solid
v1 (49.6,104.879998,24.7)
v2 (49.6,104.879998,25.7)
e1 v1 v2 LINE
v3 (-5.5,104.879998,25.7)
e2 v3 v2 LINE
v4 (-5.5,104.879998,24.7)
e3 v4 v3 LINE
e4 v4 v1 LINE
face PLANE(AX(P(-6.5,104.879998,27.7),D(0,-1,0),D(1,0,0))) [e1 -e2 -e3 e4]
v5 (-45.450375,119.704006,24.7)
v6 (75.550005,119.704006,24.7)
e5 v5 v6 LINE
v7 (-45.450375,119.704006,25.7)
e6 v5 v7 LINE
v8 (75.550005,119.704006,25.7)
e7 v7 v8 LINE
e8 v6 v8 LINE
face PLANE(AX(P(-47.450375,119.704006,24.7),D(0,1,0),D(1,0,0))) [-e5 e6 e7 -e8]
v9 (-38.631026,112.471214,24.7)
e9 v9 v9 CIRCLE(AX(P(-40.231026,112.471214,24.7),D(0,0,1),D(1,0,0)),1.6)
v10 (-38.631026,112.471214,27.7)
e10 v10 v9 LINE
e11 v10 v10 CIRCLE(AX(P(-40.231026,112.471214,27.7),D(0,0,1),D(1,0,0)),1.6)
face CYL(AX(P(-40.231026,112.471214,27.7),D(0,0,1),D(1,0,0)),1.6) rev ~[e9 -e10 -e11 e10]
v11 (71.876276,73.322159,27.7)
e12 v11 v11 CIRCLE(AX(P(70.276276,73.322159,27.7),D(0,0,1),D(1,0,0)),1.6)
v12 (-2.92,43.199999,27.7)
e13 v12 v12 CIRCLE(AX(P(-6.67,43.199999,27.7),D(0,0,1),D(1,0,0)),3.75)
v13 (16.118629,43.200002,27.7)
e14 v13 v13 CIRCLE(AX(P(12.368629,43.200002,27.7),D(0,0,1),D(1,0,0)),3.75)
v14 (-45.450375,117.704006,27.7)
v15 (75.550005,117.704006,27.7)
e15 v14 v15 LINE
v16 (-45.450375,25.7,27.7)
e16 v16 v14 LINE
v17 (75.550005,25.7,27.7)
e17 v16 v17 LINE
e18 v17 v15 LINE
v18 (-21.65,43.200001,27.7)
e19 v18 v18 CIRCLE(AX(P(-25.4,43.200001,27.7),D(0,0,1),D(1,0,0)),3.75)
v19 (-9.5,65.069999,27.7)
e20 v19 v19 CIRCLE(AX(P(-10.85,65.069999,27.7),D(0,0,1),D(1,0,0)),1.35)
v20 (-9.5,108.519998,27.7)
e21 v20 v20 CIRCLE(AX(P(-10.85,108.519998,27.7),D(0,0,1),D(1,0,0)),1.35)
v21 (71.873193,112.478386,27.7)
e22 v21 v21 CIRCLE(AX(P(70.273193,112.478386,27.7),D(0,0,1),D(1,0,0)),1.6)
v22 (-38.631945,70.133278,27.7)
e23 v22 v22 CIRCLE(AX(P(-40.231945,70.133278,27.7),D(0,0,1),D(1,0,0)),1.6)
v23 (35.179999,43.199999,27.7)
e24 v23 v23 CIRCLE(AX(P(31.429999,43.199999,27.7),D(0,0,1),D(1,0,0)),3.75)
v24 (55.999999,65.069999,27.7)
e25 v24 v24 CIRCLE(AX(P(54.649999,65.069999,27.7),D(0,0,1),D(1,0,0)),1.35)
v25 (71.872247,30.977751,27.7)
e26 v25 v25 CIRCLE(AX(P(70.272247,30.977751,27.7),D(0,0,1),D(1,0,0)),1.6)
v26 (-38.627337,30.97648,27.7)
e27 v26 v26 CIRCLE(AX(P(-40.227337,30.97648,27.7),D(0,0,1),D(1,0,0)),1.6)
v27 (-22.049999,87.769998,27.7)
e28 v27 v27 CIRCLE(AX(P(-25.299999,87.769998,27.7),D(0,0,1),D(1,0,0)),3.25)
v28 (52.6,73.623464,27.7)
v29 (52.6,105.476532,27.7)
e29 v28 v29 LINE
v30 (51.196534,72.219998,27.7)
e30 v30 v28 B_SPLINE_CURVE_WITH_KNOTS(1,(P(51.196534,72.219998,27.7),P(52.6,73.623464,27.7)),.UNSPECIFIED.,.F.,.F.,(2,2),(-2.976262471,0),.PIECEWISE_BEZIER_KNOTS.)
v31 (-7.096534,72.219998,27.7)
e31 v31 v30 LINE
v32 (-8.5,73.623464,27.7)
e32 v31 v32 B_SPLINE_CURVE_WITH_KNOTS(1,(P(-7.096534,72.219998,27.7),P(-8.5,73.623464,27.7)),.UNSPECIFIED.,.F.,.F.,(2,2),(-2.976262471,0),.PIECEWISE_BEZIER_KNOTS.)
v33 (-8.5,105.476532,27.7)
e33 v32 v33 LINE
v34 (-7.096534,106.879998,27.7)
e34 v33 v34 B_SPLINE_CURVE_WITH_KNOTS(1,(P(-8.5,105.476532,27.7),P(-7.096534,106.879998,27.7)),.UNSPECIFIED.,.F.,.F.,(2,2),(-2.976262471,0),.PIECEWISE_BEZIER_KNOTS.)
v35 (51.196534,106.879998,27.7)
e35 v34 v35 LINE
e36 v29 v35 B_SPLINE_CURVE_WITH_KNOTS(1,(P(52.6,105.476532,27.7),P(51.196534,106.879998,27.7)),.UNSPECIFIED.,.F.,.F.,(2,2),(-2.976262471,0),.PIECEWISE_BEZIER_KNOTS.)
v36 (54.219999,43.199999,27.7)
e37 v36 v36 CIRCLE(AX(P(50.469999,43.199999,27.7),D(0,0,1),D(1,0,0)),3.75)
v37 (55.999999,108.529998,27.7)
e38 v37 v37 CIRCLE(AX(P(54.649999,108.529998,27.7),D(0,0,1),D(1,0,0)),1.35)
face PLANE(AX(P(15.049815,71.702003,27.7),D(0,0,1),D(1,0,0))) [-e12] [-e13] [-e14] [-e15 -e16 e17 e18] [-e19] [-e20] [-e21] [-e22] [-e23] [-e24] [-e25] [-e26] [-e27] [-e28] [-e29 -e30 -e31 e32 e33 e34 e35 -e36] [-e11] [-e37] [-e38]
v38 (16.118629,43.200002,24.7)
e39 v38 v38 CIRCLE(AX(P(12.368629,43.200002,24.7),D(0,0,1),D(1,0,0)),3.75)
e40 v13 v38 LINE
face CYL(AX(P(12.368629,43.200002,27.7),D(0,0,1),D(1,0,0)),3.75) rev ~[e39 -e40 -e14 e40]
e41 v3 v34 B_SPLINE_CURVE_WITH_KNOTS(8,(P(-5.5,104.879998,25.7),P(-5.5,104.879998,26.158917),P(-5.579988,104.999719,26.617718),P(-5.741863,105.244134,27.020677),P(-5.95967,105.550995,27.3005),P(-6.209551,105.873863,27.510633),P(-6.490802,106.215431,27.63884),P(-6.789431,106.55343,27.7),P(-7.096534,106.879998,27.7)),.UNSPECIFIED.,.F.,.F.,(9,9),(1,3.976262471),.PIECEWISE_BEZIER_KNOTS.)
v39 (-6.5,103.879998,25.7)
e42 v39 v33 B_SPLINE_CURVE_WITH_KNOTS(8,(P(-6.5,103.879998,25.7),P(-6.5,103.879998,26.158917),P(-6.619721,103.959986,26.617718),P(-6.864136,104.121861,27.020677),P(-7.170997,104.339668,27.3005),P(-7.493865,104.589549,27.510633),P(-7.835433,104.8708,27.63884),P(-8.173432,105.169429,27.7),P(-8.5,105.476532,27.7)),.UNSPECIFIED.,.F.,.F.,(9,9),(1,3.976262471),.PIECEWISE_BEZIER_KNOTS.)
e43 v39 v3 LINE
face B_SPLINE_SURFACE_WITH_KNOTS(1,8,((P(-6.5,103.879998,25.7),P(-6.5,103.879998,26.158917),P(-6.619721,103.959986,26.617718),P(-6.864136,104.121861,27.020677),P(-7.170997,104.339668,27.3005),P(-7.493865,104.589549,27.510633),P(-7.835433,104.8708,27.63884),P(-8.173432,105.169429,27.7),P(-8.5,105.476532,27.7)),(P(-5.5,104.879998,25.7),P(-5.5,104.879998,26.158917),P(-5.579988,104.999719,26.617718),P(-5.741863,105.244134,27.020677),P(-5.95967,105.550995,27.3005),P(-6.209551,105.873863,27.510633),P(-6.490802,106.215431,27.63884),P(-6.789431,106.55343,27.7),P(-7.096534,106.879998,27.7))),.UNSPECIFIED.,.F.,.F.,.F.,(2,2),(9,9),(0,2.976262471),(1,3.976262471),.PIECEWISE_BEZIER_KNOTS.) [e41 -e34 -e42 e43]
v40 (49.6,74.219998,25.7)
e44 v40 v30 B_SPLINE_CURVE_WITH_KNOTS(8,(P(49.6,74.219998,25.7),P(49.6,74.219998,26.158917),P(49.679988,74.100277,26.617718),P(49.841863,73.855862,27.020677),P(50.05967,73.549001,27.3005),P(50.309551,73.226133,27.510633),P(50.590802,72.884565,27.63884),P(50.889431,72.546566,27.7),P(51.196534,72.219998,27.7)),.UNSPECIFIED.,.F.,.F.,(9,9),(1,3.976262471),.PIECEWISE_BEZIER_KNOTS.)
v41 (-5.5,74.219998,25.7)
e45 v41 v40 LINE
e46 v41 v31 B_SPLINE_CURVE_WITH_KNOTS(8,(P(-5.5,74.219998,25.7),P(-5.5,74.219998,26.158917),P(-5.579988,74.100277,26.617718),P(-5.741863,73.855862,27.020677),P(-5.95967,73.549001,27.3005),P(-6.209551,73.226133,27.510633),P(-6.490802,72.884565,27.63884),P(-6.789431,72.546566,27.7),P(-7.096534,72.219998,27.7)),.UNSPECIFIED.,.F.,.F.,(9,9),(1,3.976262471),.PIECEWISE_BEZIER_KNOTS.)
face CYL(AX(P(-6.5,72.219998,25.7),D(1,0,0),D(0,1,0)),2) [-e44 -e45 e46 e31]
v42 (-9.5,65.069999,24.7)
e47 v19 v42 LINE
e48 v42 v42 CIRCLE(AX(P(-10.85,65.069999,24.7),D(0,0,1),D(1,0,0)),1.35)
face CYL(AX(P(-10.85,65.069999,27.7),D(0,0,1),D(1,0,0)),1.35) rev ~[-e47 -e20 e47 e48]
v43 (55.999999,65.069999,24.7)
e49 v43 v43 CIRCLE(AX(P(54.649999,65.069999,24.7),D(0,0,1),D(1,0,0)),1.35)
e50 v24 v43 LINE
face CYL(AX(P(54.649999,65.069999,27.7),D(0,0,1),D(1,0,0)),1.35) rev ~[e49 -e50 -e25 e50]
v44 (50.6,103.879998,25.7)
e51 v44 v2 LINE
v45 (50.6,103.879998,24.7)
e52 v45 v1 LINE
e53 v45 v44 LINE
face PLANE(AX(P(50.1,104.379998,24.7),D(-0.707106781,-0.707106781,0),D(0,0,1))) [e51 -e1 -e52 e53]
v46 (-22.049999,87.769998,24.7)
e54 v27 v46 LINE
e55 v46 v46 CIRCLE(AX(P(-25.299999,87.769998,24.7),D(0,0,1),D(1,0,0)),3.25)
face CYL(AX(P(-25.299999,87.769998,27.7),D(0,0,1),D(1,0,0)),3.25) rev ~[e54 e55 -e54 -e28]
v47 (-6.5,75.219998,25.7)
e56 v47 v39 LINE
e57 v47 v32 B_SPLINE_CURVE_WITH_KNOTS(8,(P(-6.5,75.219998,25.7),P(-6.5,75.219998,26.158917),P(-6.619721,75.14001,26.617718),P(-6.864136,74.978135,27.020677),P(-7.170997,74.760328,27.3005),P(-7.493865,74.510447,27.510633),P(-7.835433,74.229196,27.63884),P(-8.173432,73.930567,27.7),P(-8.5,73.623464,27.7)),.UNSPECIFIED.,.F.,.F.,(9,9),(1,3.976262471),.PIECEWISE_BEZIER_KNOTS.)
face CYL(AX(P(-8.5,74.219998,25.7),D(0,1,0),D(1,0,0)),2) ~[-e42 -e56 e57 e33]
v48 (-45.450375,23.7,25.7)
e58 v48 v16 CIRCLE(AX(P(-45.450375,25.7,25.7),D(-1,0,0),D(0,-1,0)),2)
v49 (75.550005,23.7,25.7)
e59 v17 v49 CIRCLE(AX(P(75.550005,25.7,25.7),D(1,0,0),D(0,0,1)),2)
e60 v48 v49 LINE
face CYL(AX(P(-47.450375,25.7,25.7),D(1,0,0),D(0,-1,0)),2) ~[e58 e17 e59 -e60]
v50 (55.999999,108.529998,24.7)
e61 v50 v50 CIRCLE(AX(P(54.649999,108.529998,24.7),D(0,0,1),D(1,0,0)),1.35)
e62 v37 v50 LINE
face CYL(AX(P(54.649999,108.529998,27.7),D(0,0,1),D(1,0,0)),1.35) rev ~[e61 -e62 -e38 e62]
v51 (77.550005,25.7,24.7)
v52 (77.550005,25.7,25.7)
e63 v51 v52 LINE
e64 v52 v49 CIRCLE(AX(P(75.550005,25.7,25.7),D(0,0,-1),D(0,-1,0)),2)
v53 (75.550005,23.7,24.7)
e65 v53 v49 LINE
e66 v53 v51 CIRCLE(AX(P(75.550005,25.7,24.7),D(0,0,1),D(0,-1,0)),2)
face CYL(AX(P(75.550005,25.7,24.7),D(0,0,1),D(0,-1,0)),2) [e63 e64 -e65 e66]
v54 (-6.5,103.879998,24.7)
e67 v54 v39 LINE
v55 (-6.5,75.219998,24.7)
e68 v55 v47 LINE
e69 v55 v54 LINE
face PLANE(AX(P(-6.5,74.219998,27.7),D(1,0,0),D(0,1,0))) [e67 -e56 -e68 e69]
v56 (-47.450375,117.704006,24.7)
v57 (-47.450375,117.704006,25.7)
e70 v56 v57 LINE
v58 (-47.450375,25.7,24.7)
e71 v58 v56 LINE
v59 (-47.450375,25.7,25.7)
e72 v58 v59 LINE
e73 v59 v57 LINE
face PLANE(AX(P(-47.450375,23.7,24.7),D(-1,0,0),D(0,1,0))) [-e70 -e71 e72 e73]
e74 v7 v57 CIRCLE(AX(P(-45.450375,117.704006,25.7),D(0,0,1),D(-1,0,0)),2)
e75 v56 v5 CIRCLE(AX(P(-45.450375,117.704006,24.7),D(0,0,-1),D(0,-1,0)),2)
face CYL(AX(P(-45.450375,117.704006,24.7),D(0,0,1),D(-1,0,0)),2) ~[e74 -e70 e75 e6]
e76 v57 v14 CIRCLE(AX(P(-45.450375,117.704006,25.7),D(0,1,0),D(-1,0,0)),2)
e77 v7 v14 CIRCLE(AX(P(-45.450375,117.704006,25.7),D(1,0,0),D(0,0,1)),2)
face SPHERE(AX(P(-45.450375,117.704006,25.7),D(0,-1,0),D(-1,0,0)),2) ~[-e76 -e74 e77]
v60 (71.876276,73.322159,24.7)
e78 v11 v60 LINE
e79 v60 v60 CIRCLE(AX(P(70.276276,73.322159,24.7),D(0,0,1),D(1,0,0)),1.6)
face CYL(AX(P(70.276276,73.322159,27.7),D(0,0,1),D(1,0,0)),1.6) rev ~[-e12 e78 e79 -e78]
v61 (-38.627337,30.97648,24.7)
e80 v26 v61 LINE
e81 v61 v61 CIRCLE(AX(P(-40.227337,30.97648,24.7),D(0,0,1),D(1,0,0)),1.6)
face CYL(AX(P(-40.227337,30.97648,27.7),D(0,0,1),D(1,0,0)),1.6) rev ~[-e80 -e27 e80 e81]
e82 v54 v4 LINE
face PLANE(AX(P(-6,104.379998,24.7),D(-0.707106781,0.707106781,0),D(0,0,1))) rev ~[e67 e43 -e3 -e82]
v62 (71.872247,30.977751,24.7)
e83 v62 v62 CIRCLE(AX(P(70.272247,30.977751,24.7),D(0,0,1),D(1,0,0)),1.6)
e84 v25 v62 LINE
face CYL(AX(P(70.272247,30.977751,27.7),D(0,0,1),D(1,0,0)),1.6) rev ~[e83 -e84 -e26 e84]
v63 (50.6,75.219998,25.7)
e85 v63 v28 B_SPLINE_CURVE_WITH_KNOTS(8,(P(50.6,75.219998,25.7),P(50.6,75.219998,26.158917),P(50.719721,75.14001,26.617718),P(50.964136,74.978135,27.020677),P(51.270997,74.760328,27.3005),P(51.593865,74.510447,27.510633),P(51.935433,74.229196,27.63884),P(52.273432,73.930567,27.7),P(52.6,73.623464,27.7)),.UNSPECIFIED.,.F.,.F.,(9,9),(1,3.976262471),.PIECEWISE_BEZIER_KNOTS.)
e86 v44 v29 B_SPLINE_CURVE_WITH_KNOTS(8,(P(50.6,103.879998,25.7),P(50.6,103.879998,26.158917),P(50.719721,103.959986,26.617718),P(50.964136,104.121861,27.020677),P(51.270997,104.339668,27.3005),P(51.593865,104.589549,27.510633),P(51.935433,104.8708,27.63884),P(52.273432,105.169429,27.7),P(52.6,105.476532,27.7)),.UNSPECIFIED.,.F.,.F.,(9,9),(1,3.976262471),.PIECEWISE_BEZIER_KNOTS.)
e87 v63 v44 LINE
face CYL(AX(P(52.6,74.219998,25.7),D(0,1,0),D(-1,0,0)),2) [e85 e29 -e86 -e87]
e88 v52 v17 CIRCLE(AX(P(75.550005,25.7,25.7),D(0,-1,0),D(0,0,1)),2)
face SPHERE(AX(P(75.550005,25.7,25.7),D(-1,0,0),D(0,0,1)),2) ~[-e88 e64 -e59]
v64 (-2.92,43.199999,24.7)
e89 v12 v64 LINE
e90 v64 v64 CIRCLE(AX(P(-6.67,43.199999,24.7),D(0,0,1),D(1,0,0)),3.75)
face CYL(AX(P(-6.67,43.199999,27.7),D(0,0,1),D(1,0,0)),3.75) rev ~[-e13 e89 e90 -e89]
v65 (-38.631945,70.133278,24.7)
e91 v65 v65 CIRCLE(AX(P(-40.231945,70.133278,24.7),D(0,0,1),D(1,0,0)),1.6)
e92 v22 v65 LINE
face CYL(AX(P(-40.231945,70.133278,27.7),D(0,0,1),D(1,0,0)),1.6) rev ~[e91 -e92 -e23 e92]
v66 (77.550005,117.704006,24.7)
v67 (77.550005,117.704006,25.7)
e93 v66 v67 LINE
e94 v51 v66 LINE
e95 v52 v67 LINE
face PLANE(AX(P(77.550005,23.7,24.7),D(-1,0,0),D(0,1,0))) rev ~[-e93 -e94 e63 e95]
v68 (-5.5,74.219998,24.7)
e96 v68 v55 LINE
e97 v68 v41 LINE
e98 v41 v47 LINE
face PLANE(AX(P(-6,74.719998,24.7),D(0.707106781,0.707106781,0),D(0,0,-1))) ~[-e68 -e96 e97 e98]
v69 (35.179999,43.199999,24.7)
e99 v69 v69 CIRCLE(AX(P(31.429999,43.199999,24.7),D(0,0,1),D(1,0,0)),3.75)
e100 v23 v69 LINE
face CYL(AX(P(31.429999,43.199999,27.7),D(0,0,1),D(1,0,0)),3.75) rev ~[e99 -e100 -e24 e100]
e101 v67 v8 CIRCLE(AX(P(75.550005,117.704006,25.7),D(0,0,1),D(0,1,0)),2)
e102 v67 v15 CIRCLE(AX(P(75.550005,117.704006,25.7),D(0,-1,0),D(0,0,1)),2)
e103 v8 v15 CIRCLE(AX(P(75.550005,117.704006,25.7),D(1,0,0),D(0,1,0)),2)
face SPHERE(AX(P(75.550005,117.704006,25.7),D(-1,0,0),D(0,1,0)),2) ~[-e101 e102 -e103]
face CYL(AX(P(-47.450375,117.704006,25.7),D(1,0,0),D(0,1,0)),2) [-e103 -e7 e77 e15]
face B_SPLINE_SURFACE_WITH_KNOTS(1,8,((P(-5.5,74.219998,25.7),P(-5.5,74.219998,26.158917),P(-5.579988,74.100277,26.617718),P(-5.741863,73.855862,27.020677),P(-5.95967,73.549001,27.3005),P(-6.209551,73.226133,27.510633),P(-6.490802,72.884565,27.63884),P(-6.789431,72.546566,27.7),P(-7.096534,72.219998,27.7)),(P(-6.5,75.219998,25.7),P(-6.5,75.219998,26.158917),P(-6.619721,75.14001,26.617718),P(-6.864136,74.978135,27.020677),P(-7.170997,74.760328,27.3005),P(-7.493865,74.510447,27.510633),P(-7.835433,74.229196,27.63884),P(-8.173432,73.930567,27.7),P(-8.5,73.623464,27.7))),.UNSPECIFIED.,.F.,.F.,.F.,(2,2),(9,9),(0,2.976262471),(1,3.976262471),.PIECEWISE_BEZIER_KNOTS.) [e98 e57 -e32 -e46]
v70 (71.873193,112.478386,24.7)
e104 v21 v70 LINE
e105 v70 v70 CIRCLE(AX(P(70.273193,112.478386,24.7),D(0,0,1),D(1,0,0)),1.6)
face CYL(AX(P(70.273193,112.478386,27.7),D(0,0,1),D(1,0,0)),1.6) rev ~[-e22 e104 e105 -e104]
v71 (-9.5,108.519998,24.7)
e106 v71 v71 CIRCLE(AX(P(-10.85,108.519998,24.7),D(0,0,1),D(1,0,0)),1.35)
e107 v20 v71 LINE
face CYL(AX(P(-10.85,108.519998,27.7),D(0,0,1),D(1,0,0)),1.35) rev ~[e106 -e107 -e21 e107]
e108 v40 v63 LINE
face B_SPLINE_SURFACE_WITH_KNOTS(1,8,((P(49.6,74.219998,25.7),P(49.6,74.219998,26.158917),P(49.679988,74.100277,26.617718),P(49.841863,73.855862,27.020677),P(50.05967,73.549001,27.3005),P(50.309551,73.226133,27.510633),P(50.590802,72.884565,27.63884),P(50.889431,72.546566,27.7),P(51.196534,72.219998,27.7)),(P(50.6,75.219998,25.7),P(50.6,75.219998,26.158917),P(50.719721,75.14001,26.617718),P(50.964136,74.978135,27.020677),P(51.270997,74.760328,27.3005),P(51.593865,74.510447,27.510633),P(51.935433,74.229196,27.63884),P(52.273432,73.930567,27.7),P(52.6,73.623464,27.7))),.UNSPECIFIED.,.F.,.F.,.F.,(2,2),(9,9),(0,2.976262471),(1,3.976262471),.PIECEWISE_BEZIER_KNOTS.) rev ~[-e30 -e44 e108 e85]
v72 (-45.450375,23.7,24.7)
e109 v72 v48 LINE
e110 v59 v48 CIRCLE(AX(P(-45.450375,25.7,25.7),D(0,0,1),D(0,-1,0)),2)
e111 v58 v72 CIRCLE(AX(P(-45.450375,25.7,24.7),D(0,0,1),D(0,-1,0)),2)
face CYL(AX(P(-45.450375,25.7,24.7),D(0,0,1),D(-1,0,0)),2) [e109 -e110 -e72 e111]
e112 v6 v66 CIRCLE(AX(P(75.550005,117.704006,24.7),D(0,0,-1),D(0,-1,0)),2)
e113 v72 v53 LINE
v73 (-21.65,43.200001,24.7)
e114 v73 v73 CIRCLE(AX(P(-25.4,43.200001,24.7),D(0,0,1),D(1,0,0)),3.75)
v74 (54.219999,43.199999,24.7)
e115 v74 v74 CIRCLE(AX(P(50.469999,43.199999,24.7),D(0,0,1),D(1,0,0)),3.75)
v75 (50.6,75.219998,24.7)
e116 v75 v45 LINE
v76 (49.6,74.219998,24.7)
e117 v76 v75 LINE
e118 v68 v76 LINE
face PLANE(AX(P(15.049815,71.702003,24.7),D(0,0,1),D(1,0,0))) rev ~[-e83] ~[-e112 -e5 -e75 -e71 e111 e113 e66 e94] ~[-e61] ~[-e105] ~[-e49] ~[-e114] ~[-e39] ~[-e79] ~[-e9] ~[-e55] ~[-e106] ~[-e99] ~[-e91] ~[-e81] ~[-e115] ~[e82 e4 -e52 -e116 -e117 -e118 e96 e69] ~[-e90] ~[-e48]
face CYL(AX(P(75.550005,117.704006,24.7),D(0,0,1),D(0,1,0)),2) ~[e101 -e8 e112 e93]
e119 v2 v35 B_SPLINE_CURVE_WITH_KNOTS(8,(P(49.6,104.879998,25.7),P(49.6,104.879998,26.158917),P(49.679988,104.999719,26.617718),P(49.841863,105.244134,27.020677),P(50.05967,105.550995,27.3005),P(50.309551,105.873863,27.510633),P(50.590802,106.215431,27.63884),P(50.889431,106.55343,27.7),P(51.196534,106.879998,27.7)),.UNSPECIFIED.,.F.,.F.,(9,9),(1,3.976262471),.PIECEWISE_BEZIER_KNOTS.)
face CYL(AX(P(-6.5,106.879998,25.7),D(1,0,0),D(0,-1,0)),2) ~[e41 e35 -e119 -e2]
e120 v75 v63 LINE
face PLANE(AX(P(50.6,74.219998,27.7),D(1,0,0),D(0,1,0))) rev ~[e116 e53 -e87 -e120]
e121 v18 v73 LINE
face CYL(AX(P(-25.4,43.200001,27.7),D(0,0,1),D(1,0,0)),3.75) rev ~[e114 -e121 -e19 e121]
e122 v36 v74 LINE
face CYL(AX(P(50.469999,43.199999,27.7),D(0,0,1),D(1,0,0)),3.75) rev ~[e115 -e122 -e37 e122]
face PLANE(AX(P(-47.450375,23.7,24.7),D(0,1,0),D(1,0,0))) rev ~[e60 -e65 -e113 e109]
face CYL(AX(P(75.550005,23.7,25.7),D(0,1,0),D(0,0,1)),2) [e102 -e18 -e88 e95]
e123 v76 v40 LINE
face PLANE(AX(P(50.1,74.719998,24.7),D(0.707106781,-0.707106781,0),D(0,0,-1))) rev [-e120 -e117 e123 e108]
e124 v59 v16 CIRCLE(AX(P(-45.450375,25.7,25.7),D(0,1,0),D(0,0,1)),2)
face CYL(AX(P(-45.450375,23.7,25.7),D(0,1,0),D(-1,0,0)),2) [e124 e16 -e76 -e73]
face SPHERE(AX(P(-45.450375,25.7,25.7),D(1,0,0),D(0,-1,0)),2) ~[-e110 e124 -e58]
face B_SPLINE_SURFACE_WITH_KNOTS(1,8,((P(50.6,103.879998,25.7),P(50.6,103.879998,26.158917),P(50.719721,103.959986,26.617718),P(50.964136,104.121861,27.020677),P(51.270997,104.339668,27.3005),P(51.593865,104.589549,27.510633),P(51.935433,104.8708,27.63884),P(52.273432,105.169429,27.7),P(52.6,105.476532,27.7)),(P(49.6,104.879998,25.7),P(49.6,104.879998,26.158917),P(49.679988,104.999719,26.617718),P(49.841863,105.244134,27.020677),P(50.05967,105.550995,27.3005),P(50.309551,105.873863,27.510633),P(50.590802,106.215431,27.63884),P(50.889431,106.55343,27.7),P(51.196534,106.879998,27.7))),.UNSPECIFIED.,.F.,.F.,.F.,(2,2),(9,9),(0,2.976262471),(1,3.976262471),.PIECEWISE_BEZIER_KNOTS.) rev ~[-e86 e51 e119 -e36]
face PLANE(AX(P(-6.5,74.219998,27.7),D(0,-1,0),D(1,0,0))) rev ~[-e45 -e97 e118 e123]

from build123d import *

# Parameters (mm, degrees)
SKETCH015_W      = 125.000379
SKETCH015_H      = 96.004006
EXTRUDE013_DEPTH = 3
SKETCH004_R      = 3.75
HOLE001_DEPTH    = 3
SKETCH005_R      = 3.25
HOLE002_DEPTH    = 3
SKETCH007_R      = 3.75
HOLE003_DEPTH    = 3
SKETCH006_R      = 1.35
HOLE004_DEPTH    = 3
SKETCH008_W      = 57.1
SKETCH008_H      = 30.66
POCKET_DEPTH     = 3
SKETCH021_R      = 1.6
HOLE007_DEPTH    = 3
HOLE007_TIPS_R   = 1.6
FILLET_R         = 2
FILLET001_R      = 2
CHAMFER_SIZE     = 1


with BuildPart() as part:
    # Sketch015 → Extrude013 (new body)
    with BuildSketch(Plane.XY):
        with Locations((15.049815, 71.702003)):
            Rectangle(SKETCH015_W, SKETCH015_H)
    extrude(amount=EXTRUDE013_DEPTH)

    # Sketch004 (on Face6 of Extrude013) → Hole001 (cut)
    with BuildSketch(Plane.XY.offset(3)):
        with Locations((-25.4, 43.200001)):
            Circle(SKETCH004_R)
    extrude(amount=-HOLE001_DEPTH, mode=Mode.SUBTRACT)

    # Sketch005 (on Face5 of Hole001) → Hole002 (cut)
    with BuildSketch(Plane.XY.offset(3)):
        with Locations((-25.299999, 87.769998)):
            Circle(SKETCH005_R)
    extrude(amount=-HOLE002_DEPTH, mode=Mode.SUBTRACT)

    # Sketch007 (on Face5 of Hole002) → Hole003 (cut)
    with BuildSketch(Plane.XY.offset(3)):
        with Locations((-6.67, 43.199999)):
            Circle(SKETCH007_R)
        with Locations((12.368629, 43.200002)):
            Circle(SKETCH007_R)
        with Locations((31.429999, 43.199999)):
            Circle(SKETCH007_R)
        with Locations((50.469999, 43.199999)):
            Circle(SKETCH007_R)
    extrude(amount=-HOLE003_DEPTH, mode=Mode.SUBTRACT)

    # Sketch006 (on Face5 of Hole003) → Hole004 (cut)
    with BuildSketch(Plane.XY.offset(3)):
        with Locations((-10.85, 65.069999)):
            Circle(SKETCH006_R)
        with Locations((54.649999, 65.069999)):
            Circle(SKETCH006_R)
        with Locations((54.649999, 108.529998)):
            Circle(SKETCH006_R)
        with Locations((-10.85, 108.519998)):
            Circle(SKETCH006_R)
    extrude(amount=-HOLE004_DEPTH, mode=Mode.SUBTRACT)

    # Sketch008 (on Face5 of Hole004) → Pocket (cut)
    with BuildSketch(Plane.XY.offset(3)):
        with Locations((22.05, 89.549998)):
            Rectangle(SKETCH008_W, SKETCH008_H)
    extrude(amount=-POCKET_DEPTH, mode=Mode.SUBTRACT)

    # Sketch021 (on Face5 of Pocket) → Hole007 (cut)
    with BuildSketch(Plane.XY.offset(3)):
        with Locations((-40.227337, 30.97648)):
            Circle(SKETCH021_R)
        with Locations((-40.231945, 70.133278)):
            Circle(SKETCH021_R)
        with Locations((-40.231026, 112.471214)):
            Circle(SKETCH021_R)
        with Locations((70.273193, 112.478386)):
            Circle(SKETCH021_R)
        with Locations((70.276276, 73.322159)):
            Circle(SKETCH021_R)
        with Locations((70.272247, 30.977751)):
            Circle(SKETCH021_R)
    extrude(amount=-HOLE007_DEPTH, mode=Mode.SUBTRACT)

    # Hole007 tips → Hole007 tip 1 section 0
    with BuildSketch(Plane.XY, mode=Mode.PRIVATE) as hole007_tip_1_s0:
        with Locations((-40.227337, 30.97648)):
            Circle(HOLE007_TIPS_R)
    loft([hole007_tip_1_s0.sketch, Vertex(-40.227337, 30.97648, -0.961377)], mode=Mode.SUBTRACT)

    # Hole007 tips → Hole007 tip 2 section 0
    with BuildSketch(Plane.XY, mode=Mode.PRIVATE) as hole007_tip_2_s0:
        with Locations((-40.231945, 70.133278)):
            Circle(HOLE007_TIPS_R)
    loft([hole007_tip_2_s0.sketch, Vertex(-40.231945, 70.133278, -0.961377)], mode=Mode.SUBTRACT)

    # Hole007 tips → Hole007 tip 3 section 0
    with BuildSketch(Plane.XY, mode=Mode.PRIVATE) as hole007_tip_3_s0:
        with Locations((-40.231026, 112.471214)):
            Circle(HOLE007_TIPS_R)
    loft([hole007_tip_3_s0.sketch, Vertex(-40.231026, 112.471214, -0.961377)], mode=Mode.SUBTRACT)

    # Hole007 tips → Hole007 tip 4 section 0
    with BuildSketch(Plane.XY, mode=Mode.PRIVATE) as hole007_tip_4_s0:
        with Locations((70.273193, 112.478386)):
            Circle(HOLE007_TIPS_R)
    loft([hole007_tip_4_s0.sketch, Vertex(70.273193, 112.478386, -0.961377)], mode=Mode.SUBTRACT)

    # Hole007 tips → Hole007 tip 5 section 0
    with BuildSketch(Plane.XY, mode=Mode.PRIVATE) as hole007_tip_5_s0:
        with Locations((70.276276, 73.322159)):
            Circle(HOLE007_TIPS_R)
    loft([hole007_tip_5_s0.sketch, Vertex(70.276276, 73.322159, -0.961377)], mode=Mode.SUBTRACT)

    # Hole007 tips → Hole007 tip 6 section 0
    with BuildSketch(Plane.XY, mode=Mode.PRIVATE) as hole007_tip_6_s0:
        with Locations((70.272247, 30.977751)):
            Circle(HOLE007_TIPS_R)
    loft([hole007_tip_6_s0.sketch, Vertex(70.272247, 30.977751, -0.961377)], mode=Mode.SUBTRACT)

    # Fillet
    fillet_edges = [part.edges().sort_by_distance(p)[0] for p in [
        (15.049814, 23.7, 3),
        (-47.450375, 23.7, 1.5),
        (-47.450375, 71.702003, 3),
        (-47.450375, 119.704006, 1.5),
        (15.049814, 119.704006, 3),
        (77.550004, 119.704006, 1.5),
        (77.550004, 71.702003, 3),
        (77.550004, 23.7, 1.5),
    ]]
    fillet(fillet_edges, radius=FILLET_R)

    # Fillet001
    fillet001_edges = [part.edges().sort_by_distance(p)[0] for p in [
        (-6.5, 89.549998, 3),
        (22.05, 104.879998, 3),
        (50.6, 89.549998, 3),
        (22.05, 74.219998, 3),
    ]]
    fillet(fillet001_edges, radius=FILLET001_R)

    # Chamfer
    chamfer_edges = [part.edges().sort_by_distance(p)[0] for p in [
        (51.307902, 105.5879, 2.526592),
        (51.307902, 73.512096, 2.526592),
        (-7.207902, 73.512096, 2.526592),
        (-7.207902, 105.5879, 2.526592),
    ]]
    chamfer(chamfer_edges, length=CHAMFER_SIZE)


with BuildPart() as part_1:
    # Body001 placement: moved
    add(part.part.moved(Location((0, 0, 24.7))))


solid = part_1.part
